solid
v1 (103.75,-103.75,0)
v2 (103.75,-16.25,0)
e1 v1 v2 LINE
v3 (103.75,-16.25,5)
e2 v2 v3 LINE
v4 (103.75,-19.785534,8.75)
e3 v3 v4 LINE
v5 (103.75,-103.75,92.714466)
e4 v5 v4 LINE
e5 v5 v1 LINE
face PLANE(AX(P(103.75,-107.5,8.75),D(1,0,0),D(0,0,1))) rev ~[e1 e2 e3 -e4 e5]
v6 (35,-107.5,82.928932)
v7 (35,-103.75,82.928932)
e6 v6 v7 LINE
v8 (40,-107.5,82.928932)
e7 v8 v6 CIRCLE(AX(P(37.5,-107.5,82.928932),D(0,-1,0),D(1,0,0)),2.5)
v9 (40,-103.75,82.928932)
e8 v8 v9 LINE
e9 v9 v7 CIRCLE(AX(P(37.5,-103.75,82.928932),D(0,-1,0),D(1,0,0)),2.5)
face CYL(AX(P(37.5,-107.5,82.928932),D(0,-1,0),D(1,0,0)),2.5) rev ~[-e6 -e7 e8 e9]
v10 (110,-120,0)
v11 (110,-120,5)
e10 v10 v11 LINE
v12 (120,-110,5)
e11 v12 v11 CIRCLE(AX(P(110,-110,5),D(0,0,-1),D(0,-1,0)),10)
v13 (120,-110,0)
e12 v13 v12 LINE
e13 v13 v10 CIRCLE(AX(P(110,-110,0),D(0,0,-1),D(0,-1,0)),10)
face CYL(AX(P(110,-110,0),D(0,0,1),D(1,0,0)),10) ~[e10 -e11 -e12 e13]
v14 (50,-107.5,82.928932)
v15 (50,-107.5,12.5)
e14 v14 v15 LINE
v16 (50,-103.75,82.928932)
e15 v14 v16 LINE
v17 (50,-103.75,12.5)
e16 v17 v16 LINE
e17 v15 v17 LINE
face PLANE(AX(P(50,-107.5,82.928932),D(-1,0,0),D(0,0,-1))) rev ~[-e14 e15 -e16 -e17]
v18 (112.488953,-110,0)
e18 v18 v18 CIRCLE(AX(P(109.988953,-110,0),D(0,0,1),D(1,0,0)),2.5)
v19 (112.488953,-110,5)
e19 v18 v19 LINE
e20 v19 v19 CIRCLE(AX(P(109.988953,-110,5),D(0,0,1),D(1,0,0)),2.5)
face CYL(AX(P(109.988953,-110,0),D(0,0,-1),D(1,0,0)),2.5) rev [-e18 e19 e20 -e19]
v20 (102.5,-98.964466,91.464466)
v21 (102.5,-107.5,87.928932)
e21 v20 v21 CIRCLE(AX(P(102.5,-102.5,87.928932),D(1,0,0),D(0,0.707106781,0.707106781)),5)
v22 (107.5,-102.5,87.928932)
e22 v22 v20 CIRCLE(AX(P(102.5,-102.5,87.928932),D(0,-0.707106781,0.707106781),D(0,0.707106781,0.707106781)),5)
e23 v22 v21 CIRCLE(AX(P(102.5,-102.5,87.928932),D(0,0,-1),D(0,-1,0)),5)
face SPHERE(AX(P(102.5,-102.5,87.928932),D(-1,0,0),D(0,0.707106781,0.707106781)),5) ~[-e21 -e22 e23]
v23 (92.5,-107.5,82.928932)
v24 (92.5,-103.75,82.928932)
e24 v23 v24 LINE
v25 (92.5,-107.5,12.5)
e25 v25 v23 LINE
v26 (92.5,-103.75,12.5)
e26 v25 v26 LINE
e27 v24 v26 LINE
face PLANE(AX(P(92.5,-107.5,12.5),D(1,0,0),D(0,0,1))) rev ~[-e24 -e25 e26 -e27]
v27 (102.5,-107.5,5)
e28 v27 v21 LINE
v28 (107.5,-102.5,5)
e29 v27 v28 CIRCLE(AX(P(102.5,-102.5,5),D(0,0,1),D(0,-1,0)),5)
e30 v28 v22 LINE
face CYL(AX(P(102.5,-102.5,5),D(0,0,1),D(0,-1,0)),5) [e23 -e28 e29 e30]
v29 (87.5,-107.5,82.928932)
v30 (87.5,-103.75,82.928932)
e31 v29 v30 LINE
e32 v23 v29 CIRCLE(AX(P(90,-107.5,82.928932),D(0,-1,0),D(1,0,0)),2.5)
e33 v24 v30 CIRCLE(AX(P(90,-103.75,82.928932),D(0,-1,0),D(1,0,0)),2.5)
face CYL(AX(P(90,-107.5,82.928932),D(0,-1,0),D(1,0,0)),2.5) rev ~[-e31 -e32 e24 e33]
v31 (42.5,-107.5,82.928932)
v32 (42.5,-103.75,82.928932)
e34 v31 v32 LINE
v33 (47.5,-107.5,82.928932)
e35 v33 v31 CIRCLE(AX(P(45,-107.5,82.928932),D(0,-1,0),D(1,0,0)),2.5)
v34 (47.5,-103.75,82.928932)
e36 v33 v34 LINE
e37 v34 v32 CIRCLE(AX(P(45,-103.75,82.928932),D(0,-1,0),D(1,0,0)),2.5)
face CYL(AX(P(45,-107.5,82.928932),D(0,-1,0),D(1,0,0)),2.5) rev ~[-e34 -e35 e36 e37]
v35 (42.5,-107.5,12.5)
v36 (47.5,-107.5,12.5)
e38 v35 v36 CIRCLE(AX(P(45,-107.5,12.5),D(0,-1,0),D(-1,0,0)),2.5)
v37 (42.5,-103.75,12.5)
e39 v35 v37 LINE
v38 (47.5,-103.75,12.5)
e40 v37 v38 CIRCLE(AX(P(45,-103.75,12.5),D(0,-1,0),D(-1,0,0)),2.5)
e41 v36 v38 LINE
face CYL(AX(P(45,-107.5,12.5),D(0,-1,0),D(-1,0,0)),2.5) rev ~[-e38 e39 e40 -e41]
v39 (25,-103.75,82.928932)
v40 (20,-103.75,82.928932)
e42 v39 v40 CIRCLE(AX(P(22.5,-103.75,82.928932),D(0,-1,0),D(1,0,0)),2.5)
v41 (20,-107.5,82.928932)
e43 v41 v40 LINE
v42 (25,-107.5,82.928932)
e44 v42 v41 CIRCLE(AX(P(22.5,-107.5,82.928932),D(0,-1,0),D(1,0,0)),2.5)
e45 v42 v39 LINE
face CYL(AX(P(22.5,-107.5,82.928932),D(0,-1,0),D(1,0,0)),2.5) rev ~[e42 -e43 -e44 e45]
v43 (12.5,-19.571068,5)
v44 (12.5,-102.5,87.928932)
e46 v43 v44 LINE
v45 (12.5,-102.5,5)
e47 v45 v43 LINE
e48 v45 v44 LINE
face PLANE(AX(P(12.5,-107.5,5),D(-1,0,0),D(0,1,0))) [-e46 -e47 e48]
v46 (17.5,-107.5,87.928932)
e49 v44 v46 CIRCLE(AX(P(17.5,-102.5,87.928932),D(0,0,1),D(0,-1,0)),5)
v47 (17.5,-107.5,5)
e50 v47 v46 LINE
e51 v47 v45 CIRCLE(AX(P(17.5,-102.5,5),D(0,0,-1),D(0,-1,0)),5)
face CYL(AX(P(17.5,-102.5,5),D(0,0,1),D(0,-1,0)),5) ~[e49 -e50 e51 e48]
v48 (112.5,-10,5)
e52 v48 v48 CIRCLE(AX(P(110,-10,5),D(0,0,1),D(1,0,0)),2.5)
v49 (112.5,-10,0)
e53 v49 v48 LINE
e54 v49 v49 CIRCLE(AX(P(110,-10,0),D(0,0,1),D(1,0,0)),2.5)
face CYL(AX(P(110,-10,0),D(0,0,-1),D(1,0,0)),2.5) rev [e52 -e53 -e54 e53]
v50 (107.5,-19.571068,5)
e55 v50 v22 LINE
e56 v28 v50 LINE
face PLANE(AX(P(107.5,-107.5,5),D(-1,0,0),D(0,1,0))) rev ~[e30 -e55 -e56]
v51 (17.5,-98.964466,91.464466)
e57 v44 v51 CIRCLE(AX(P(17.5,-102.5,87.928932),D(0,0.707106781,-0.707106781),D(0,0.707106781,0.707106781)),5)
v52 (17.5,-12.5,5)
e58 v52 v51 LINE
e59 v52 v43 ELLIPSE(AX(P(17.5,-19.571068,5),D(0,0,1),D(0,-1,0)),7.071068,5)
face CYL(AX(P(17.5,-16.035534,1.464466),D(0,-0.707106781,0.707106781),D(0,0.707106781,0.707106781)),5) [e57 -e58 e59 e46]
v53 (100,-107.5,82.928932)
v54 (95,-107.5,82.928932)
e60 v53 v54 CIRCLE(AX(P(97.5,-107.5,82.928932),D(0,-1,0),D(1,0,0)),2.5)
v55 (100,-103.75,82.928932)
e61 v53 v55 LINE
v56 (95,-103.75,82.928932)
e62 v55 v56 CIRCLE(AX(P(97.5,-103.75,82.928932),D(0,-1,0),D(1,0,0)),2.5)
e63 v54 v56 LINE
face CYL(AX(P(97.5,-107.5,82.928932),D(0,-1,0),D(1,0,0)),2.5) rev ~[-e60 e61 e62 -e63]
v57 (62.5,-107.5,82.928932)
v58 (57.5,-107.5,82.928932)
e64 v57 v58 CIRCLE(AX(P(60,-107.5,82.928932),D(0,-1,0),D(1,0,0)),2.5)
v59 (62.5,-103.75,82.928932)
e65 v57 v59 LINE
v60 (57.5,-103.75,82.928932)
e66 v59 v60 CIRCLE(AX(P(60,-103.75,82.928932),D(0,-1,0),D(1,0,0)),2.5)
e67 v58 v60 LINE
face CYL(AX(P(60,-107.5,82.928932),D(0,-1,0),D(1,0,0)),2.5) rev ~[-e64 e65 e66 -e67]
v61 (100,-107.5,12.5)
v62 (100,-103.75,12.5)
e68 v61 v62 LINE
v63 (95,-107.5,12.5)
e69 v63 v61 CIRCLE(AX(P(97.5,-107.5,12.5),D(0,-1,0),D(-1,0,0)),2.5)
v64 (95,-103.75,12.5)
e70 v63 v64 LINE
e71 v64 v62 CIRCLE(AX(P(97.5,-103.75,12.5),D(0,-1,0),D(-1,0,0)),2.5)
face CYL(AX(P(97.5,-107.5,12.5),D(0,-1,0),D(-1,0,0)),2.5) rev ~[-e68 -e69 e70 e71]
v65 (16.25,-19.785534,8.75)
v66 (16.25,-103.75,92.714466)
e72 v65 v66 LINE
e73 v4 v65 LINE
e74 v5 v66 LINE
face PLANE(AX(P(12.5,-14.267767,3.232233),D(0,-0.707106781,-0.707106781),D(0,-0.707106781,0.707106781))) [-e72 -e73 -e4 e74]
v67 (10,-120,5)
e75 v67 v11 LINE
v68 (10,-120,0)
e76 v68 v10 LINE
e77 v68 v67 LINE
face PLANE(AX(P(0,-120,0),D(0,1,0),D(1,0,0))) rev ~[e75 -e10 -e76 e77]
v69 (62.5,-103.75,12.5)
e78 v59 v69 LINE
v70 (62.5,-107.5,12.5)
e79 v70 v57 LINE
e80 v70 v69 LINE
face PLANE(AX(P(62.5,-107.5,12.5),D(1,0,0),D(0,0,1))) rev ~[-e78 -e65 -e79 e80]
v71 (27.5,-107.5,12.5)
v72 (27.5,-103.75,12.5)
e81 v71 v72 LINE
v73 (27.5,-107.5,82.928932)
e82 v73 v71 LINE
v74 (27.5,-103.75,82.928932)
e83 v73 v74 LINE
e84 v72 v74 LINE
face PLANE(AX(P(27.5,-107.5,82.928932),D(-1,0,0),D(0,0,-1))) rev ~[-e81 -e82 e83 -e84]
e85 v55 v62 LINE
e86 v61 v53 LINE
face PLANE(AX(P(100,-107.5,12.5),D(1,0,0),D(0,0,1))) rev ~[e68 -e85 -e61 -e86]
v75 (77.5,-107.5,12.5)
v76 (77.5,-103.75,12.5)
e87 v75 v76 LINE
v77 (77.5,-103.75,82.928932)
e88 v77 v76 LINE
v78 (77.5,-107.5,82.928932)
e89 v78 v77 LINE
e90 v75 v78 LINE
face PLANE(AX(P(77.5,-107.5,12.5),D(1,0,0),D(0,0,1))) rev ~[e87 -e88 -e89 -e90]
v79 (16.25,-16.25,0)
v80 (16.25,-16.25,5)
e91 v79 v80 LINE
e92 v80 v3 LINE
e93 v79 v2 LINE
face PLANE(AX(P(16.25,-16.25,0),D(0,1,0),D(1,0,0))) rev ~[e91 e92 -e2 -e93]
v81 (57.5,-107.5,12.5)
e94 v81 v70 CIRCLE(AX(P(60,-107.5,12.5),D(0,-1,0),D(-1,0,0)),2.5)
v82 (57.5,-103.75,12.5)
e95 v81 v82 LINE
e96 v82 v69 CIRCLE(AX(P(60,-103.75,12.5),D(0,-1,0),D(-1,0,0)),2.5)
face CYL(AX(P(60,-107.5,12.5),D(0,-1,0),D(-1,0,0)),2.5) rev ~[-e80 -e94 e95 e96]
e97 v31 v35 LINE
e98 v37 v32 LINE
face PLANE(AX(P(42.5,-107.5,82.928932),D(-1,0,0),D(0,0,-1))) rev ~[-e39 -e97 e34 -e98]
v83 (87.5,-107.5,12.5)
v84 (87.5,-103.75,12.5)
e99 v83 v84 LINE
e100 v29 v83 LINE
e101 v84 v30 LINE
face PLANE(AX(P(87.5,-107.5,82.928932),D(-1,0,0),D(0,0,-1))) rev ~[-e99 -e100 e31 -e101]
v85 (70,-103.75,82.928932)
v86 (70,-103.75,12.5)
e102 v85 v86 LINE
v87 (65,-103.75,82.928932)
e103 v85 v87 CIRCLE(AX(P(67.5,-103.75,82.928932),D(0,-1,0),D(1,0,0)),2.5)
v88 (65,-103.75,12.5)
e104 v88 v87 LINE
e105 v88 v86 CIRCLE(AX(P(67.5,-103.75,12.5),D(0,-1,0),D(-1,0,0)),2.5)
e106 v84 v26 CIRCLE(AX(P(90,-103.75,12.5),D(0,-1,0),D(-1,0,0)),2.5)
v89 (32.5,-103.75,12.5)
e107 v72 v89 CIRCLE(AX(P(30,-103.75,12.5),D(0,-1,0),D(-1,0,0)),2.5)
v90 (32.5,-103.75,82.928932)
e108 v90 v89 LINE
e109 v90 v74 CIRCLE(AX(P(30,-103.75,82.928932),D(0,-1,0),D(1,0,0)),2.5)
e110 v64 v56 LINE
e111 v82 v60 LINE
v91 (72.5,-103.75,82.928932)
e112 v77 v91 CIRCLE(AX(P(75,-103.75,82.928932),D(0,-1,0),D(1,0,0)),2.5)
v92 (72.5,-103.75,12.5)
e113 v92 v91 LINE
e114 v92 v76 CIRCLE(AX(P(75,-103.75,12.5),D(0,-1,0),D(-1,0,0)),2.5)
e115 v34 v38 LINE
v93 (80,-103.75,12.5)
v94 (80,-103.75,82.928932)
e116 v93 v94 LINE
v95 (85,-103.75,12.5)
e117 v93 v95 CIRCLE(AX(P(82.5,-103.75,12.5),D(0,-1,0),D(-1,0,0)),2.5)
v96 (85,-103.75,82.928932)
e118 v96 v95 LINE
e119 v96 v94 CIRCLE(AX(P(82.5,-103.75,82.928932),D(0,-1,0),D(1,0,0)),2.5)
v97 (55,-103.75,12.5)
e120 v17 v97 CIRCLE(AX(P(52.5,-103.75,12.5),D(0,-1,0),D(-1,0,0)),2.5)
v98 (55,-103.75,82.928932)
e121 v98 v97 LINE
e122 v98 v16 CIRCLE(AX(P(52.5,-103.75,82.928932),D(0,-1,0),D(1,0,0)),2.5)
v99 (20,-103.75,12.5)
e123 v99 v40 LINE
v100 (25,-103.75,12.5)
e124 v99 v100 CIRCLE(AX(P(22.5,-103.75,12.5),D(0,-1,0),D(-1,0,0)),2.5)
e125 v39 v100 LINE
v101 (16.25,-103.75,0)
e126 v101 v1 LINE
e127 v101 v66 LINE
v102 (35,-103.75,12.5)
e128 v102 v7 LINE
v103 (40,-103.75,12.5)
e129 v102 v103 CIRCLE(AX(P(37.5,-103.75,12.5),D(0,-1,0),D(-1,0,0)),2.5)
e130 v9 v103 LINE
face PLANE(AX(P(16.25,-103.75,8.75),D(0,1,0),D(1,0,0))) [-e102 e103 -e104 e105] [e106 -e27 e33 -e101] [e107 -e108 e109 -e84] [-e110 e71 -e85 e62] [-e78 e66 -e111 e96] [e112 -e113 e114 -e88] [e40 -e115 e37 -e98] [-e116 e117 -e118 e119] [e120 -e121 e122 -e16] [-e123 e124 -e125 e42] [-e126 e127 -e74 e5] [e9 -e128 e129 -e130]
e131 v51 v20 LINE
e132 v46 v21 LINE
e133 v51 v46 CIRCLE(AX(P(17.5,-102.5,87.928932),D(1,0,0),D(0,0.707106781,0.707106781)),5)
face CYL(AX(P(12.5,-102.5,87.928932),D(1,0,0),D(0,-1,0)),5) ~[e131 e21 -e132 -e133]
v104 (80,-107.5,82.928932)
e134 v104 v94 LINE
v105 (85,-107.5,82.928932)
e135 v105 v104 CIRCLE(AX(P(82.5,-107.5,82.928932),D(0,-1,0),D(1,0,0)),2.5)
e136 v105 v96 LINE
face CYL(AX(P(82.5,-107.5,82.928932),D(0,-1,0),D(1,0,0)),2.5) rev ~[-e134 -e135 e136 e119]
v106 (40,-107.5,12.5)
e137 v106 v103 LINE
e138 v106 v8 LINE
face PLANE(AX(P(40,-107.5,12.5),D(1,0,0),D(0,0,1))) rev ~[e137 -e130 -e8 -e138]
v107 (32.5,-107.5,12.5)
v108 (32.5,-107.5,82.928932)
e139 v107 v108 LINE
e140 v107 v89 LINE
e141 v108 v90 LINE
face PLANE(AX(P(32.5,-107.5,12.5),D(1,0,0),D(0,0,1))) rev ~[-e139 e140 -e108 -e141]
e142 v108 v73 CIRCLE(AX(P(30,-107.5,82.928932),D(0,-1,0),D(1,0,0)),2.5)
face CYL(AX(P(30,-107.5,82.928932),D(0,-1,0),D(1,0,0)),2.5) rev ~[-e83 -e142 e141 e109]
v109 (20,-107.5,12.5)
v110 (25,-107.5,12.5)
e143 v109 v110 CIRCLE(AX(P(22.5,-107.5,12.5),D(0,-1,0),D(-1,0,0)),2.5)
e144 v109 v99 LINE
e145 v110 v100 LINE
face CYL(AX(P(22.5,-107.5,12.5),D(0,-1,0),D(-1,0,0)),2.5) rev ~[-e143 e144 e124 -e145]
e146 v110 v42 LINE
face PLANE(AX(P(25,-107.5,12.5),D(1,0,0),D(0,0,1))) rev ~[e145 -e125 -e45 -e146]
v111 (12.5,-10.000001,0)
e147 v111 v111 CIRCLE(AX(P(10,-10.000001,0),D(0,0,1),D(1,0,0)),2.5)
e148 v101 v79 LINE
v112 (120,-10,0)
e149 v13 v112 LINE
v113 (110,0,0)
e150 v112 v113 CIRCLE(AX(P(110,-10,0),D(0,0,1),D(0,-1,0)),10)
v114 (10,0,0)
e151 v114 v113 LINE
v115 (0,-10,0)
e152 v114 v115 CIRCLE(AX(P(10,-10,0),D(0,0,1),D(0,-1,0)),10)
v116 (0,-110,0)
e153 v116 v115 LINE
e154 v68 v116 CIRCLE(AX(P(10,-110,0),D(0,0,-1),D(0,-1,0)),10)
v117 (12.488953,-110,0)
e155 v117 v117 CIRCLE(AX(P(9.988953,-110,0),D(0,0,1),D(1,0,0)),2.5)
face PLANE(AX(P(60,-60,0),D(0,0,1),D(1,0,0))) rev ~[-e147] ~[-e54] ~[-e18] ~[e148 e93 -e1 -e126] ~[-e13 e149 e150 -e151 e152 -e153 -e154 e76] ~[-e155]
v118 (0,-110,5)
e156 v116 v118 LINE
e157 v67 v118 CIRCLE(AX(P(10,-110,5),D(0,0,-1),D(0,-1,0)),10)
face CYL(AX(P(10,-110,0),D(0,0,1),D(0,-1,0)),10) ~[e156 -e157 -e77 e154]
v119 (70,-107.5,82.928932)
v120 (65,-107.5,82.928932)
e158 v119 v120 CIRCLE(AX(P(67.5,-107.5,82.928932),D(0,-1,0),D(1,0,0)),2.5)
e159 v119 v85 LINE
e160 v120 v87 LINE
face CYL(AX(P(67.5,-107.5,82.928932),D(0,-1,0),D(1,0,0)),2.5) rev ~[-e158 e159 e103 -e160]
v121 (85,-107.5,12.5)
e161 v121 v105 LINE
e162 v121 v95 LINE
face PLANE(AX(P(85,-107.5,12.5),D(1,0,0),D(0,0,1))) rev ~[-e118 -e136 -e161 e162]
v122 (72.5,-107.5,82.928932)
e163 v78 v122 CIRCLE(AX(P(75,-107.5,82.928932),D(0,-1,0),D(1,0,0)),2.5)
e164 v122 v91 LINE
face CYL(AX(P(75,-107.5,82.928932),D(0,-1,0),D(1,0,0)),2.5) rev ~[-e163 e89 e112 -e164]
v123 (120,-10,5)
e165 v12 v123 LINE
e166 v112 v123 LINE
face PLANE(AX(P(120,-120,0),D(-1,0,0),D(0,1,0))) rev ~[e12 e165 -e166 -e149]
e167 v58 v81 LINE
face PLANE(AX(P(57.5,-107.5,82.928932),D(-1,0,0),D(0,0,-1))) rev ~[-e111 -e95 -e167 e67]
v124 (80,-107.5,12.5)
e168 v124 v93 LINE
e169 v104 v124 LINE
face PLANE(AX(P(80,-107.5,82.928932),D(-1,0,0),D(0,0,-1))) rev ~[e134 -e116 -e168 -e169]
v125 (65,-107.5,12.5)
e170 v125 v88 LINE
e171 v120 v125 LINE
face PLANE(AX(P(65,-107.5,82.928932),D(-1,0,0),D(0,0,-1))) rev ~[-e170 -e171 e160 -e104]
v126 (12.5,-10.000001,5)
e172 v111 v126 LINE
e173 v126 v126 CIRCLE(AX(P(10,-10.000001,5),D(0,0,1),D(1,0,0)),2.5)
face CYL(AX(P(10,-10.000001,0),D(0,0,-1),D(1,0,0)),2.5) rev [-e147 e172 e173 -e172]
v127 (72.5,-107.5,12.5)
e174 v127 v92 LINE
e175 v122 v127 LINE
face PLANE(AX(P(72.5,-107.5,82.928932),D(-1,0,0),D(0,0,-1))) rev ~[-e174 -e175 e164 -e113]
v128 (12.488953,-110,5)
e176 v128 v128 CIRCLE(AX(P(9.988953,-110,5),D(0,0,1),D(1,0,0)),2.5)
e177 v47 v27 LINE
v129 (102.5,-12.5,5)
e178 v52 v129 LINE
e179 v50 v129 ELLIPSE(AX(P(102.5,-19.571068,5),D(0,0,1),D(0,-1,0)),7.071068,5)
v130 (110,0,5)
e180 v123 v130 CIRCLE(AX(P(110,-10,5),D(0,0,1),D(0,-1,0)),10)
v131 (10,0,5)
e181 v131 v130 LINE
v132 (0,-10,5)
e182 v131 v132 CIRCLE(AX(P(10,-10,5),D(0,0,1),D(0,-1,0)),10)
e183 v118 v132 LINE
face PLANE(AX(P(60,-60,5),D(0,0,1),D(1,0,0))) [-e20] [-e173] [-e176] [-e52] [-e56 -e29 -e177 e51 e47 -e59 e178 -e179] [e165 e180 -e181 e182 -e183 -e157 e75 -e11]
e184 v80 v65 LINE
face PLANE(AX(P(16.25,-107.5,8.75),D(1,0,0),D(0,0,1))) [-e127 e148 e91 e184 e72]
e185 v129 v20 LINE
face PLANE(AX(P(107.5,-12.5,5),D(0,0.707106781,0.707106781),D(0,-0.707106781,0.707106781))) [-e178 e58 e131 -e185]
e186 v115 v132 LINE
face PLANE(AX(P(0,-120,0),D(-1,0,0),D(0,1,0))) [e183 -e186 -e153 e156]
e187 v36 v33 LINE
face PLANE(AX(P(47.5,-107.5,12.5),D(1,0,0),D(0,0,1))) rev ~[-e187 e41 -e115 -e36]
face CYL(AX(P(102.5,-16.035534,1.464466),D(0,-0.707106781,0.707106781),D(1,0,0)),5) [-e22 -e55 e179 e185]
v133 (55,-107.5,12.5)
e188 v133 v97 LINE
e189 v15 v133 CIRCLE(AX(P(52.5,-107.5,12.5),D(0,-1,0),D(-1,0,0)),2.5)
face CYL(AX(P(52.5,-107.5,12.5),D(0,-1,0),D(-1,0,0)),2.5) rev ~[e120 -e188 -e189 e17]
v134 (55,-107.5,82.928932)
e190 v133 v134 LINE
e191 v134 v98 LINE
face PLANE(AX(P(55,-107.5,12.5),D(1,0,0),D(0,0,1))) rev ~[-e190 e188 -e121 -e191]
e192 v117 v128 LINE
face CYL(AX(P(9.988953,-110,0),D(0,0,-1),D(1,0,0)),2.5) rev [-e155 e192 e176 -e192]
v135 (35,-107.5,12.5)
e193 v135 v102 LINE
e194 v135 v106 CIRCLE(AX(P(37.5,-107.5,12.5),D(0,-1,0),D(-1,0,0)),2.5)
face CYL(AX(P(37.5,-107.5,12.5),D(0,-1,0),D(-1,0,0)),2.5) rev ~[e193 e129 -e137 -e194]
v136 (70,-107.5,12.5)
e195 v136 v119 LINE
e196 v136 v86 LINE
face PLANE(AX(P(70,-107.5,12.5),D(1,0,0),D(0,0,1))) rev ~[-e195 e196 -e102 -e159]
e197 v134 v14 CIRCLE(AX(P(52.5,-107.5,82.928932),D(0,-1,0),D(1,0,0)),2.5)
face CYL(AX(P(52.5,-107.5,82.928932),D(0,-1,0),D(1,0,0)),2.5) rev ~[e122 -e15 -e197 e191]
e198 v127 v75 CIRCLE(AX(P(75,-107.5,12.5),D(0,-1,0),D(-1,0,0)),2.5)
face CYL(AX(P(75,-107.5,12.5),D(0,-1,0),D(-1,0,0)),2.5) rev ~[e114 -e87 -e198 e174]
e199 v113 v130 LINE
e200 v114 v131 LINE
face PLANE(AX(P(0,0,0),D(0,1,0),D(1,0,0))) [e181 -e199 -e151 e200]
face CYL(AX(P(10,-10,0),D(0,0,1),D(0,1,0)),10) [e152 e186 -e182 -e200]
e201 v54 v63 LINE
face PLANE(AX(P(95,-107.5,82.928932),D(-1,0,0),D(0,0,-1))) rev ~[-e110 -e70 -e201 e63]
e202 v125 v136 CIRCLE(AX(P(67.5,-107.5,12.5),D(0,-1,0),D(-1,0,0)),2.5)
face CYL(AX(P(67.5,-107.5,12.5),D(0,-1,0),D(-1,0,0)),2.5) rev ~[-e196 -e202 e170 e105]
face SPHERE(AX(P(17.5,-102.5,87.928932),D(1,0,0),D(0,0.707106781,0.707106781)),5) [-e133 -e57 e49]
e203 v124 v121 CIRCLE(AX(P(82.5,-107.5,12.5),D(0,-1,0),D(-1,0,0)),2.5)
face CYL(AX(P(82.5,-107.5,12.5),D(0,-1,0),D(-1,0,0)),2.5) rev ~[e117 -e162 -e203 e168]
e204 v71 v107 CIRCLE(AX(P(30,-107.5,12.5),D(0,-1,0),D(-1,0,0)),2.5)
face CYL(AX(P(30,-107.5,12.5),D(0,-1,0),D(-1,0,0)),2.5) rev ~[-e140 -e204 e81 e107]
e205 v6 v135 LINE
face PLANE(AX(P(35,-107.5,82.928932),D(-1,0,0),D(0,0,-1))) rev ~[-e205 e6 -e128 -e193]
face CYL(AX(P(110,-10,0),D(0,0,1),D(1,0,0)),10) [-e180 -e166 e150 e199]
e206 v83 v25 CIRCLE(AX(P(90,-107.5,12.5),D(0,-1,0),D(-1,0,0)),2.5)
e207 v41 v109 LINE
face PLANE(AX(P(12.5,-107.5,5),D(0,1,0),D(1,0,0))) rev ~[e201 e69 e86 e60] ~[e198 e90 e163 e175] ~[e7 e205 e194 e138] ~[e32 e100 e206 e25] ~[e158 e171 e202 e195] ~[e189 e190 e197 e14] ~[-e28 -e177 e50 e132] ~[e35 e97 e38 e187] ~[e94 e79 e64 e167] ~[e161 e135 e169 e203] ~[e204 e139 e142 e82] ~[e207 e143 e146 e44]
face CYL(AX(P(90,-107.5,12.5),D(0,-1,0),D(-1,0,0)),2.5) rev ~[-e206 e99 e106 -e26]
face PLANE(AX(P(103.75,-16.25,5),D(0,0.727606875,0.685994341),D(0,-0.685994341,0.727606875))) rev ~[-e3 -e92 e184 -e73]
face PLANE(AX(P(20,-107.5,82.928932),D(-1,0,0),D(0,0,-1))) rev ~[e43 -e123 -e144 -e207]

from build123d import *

# Parameters (mm, degrees)
SKETCH2_W           = 120
SKETCH2_H           = 120
SKETCH2_R           = 2.5
SKETCH2_W_2         = 87.5
SKETCH2_H_2         = 87.5
BOSS_EXTRUDE1_DEPTH = 5
SKETCH3_W           = 95
SKETCH3_H           = 95
BOSS_EXTRUDE2_DEPTH = 95
CUT_EXTRUDE1_DEPTH  = 95
CUT_EXTRUDE4_REACH  = 191.621
SKETCH5_W           = 87.5
SKETCH5_H           = 87.5
CUT_EXTRUDE5_REACH  = 196.487
SKETCH9_W           = 87.5
SKETCH9_H           = 83.964466094
CUT_EXTRUDE7_DEPTH  = 87.5
BOSS_EXTRUDE3_REACH = 194.683
SKETCH11_W          = 87.5
SKETCH11_H          = 3.75
FILLET1_R           = 10
FILLET2_R           = 5
CUT_EXTRUDE9_DEPTH  = 5.5


with BuildPart() as part:
    # Sketch2 → Boss-Extrude1 (new body)
    with BuildSketch(Plane.XY):
        with Locations((60, -60)):
            Rectangle(SKETCH2_W, SKETCH2_H)
        with Locations((10, -10.00000061)):
            Circle(SKETCH2_R, mode=Mode.SUBTRACT)
        with Locations((110, -10)):
            Circle(SKETCH2_R, mode=Mode.SUBTRACT)
        with Locations((9.988952602, -110)):
            Circle(SKETCH2_R, mode=Mode.SUBTRACT)
        with Locations((109.988952602, -110)):
            Circle(SKETCH2_R, mode=Mode.SUBTRACT)
        with Locations((60, -60)):
            Rectangle(SKETCH2_W_2, SKETCH2_H_2, mode=Mode.SUBTRACT)
    extrude(amount=BOSS_EXTRUDE1_DEPTH)

    # Sketch3 → Boss-Extrude2 (add)
    with BuildSketch(Plane.XY.offset(5)):
        with Locations((60, -60)):
            Rectangle(SKETCH3_W, SKETCH3_H)
    extrude(amount=BOSS_EXTRUDE2_DEPTH)

    # Sketch4 → Cut-Extrude1 (cut)
    with BuildSketch(Plane(origin=(107.5, 0, 0), x_dir=(0, 0, -1), z_dir=(1, 0, 0))):
        Polygon((-5, -12.5), (-100, -107.5), (-100, -12.5), align=None)
    extrude(amount=-CUT_EXTRUDE1_DEPTH, mode=Mode.SUBTRACT)

    # Cut-Extrude4: up to this plane
    cut_extrude4_end = Plane(origin=(12.5, -14.267766953, 3.232233047), z_dir=(0, -0.7071067811865476, -0.7071067811865476))
    # Sketch5 → Cut-Extrude4 (cut, up to the surface)
    with BuildSketch(Plane.XZ.offset(107.5), mode=Mode.PRIVATE) as cut_extrude4_sk1:
        with Locations((60, 52.5)):
            Rectangle(SKETCH5_W, SKETCH5_H)
    cut_extrude4_tool1 = split(extrude(cut_extrude4_sk1.sketch, amount=-CUT_EXTRUDE4_REACH, mode=Mode.PRIVATE), bisect_by=cut_extrude4_end, keep=Keep.BOTH, mode=Mode.PRIVATE)
    add(cut_extrude4_tool1.solids().sort_by_distance((60, -107.5, 52.5))[0], mode=Mode.SUBTRACT)

    # Cut-Extrude5: up to this plane
    cut_extrude5_end = Plane(origin=(12.5, -14.267766953, 3.232233047), z_dir=(0, -0.7071067811865476, -0.7071067811865476))
    # Sketch9 → Cut-Extrude5 (cut, up to the surface)
    with BuildSketch(Plane(origin=(0, 0, 5), x_dir=(-1, 0, 0), z_dir=(0, 0, -1)), mode=Mode.PRIVATE) as cut_extrude5_sk1:
        with Locations((-60, -61.767766953)):
            Rectangle(SKETCH9_W, SKETCH9_H)
    cut_extrude5_tool1 = split(extrude(cut_extrude5_sk1.sketch, amount=-CUT_EXTRUDE5_REACH, mode=Mode.PRIVATE), bisect_by=cut_extrude5_end, keep=Keep.BOTH, mode=Mode.PRIVATE)
    add(cut_extrude5_tool1.solids().sort_by_distance((60, -61.767767, 5))[0], mode=Mode.SUBTRACT)

    # Sketch10 → Cut-Extrude7 (cut)
    with BuildSketch(Plane.ZY.offset(-103.75)):
        Polygon((8.75, -19.785533906), (5, -19.785533906), (5, -16.25), align=None)
    extrude(amount=CUT_EXTRUDE7_DEPTH, mode=Mode.SUBTRACT)

    # Sketch11 → Boss-Extrude3 (add, up to next)
    with BuildSketch(Plane.XY.offset(8.75), mode=Mode.PRIVATE) as boss_extrude3_sk1:
        with Locations((60, -105.625)):
            Rectangle(SKETCH11_W, SKETCH11_H)
    boss_extrude3_tool1 = extrude(boss_extrude3_sk1.sketch, amount=BOSS_EXTRUDE3_REACH, mode=Mode.PRIVATE) - part.part
    add(boss_extrude3_tool1.solids().sort_by_distance((60, -105.625, 8.75))[0])

    # Fillet1
    fillet1_edges = [part.edges().sort_by_distance(p)[0] for p in [
        (0, 0, 2.5),
        (120, 0, 2.5),
        (120, -120, 2.5),
        (0, -120, 2.5),
    ]]
    fillet(fillet1_edges, radius=FILLET1_R)

    # Fillet2
    fillet2_edges = [part.edges().sort_by_distance(p)[0] for p in [
        (12.5, -107.5, 52.5),
        (107.5, -107.5, 52.5),
        (60, -107.5, 100),
        (12.5, -60, 52.5),
        (107.5, -60, 52.5),
    ]]
    fillet(fillet2_edges, radius=FILLET2_R)

    # Sketch16 → Cut-Extrude9 (cut)
    with BuildSketch(Plane.XZ.offset(107.5)):
        with BuildLine():
            Line((20, 82.928932188), (20, 12.5))
            ThreePointArc((20, 12.5), (22.5, 10), (25, 12.5))
            Line((25, 12.5), (25, 82.928932188))
            ThreePointArc((25, 82.928932188), (22.5, 85.428932188), (20, 82.928932188))
        make_face()
        with BuildLine():
            Line((27.5, 82.928932188), (27.5, 12.5))
            ThreePointArc((27.5, 12.5), (30, 10), (32.5, 12.5))
            Line((32.5, 12.5), (32.5, 82.928932188))
            ThreePointArc((32.5, 82.928932188), (30, 85.428932188), (27.5, 82.928932188))
        make_face()
        with BuildLine():
            Line((35, 82.928932188), (35, 12.5))
            ThreePointArc((35, 12.5), (37.5, 10), (40, 12.5))
            Line((40, 12.5), (40, 82.928932188))
            ThreePointArc((40, 82.928932188), (37.5, 85.428932188), (35, 82.928932188))
        make_face()
        with BuildLine():
            Line((42.5, 82.928932188), (42.5, 12.5))
            ThreePointArc((42.5, 12.5), (45, 10), (47.5, 12.5))
            Line((47.5, 12.5), (47.5, 82.928932188))
            ThreePointArc((47.5, 82.928932188), (45, 85.428932188), (42.5, 82.928932188))
        make_face()
        with BuildLine():
            Line((50, 82.928932188), (50, 12.5))
            ThreePointArc((50, 12.5), (52.5, 10), (55, 12.5))
            Line((55, 12.5), (55, 82.928932188))
            ThreePointArc((55, 82.928932188), (52.5, 85.428932188), (50, 82.928932188))
        make_face()
        with BuildLine():
            Line((57.5, 82.928932188), (57.5, 12.5))
            ThreePointArc((57.5, 12.5), (60, 10), (62.5, 12.5))
            Line((62.5, 12.5), (62.5, 82.928932188))
            ThreePointArc((62.5, 82.928932188), (60, 85.428932188), (57.5, 82.928932188))
        make_face()
        with BuildLine():
            Line((65, 82.928932188), (65, 12.5))
            ThreePointArc((65, 12.5), (67.5, 10), (70, 12.5))
            Line((70, 12.5), (70, 82.928932188))
            ThreePointArc((70, 82.928932188), (67.5, 85.428932188), (65, 82.928932188))
        make_face()
        with BuildLine():
            Line((72.5, 82.928932188), (72.5, 12.5))
            ThreePointArc((72.5, 12.5), (75, 10), (77.5, 12.5))
            Line((77.5, 12.5), (77.5, 82.928932188))
            ThreePointArc((77.5, 82.928932188), (75, 85.428932188), (72.5, 82.928932188))
        make_face()
        with BuildLine():
            Line((80, 82.928932188), (80, 12.5))
            ThreePointArc((80, 12.5), (82.5, 10), (85, 12.5))
            Line((85, 12.5), (85, 82.928932188))
            ThreePointArc((85, 82.928932188), (82.5, 85.428932188), (80, 82.928932188))
        make_face()
        with BuildLine():
            Line((87.5, 82.928932188), (87.5, 12.5))
            ThreePointArc((87.5, 12.5), (90, 10), (92.5, 12.5))
            Line((92.5, 12.5), (92.5, 82.928932188))
            ThreePointArc((92.5, 82.928932188), (90, 85.428932188), (87.5, 82.928932188))
        make_face()
        with BuildLine():
            Line((95, 82.928932188), (95, 12.5))
            ThreePointArc((95, 12.5), (97.5, 10), (100, 12.5))
            Line((100, 12.5), (100, 82.928932188))
            ThreePointArc((100, 82.928932188), (97.5, 85.428932188), (95, 82.928932188))
        make_face()
    extrude(amount=-CUT_EXTRUDE9_DEPTH, mode=Mode.SUBTRACT)


solid = part.part
